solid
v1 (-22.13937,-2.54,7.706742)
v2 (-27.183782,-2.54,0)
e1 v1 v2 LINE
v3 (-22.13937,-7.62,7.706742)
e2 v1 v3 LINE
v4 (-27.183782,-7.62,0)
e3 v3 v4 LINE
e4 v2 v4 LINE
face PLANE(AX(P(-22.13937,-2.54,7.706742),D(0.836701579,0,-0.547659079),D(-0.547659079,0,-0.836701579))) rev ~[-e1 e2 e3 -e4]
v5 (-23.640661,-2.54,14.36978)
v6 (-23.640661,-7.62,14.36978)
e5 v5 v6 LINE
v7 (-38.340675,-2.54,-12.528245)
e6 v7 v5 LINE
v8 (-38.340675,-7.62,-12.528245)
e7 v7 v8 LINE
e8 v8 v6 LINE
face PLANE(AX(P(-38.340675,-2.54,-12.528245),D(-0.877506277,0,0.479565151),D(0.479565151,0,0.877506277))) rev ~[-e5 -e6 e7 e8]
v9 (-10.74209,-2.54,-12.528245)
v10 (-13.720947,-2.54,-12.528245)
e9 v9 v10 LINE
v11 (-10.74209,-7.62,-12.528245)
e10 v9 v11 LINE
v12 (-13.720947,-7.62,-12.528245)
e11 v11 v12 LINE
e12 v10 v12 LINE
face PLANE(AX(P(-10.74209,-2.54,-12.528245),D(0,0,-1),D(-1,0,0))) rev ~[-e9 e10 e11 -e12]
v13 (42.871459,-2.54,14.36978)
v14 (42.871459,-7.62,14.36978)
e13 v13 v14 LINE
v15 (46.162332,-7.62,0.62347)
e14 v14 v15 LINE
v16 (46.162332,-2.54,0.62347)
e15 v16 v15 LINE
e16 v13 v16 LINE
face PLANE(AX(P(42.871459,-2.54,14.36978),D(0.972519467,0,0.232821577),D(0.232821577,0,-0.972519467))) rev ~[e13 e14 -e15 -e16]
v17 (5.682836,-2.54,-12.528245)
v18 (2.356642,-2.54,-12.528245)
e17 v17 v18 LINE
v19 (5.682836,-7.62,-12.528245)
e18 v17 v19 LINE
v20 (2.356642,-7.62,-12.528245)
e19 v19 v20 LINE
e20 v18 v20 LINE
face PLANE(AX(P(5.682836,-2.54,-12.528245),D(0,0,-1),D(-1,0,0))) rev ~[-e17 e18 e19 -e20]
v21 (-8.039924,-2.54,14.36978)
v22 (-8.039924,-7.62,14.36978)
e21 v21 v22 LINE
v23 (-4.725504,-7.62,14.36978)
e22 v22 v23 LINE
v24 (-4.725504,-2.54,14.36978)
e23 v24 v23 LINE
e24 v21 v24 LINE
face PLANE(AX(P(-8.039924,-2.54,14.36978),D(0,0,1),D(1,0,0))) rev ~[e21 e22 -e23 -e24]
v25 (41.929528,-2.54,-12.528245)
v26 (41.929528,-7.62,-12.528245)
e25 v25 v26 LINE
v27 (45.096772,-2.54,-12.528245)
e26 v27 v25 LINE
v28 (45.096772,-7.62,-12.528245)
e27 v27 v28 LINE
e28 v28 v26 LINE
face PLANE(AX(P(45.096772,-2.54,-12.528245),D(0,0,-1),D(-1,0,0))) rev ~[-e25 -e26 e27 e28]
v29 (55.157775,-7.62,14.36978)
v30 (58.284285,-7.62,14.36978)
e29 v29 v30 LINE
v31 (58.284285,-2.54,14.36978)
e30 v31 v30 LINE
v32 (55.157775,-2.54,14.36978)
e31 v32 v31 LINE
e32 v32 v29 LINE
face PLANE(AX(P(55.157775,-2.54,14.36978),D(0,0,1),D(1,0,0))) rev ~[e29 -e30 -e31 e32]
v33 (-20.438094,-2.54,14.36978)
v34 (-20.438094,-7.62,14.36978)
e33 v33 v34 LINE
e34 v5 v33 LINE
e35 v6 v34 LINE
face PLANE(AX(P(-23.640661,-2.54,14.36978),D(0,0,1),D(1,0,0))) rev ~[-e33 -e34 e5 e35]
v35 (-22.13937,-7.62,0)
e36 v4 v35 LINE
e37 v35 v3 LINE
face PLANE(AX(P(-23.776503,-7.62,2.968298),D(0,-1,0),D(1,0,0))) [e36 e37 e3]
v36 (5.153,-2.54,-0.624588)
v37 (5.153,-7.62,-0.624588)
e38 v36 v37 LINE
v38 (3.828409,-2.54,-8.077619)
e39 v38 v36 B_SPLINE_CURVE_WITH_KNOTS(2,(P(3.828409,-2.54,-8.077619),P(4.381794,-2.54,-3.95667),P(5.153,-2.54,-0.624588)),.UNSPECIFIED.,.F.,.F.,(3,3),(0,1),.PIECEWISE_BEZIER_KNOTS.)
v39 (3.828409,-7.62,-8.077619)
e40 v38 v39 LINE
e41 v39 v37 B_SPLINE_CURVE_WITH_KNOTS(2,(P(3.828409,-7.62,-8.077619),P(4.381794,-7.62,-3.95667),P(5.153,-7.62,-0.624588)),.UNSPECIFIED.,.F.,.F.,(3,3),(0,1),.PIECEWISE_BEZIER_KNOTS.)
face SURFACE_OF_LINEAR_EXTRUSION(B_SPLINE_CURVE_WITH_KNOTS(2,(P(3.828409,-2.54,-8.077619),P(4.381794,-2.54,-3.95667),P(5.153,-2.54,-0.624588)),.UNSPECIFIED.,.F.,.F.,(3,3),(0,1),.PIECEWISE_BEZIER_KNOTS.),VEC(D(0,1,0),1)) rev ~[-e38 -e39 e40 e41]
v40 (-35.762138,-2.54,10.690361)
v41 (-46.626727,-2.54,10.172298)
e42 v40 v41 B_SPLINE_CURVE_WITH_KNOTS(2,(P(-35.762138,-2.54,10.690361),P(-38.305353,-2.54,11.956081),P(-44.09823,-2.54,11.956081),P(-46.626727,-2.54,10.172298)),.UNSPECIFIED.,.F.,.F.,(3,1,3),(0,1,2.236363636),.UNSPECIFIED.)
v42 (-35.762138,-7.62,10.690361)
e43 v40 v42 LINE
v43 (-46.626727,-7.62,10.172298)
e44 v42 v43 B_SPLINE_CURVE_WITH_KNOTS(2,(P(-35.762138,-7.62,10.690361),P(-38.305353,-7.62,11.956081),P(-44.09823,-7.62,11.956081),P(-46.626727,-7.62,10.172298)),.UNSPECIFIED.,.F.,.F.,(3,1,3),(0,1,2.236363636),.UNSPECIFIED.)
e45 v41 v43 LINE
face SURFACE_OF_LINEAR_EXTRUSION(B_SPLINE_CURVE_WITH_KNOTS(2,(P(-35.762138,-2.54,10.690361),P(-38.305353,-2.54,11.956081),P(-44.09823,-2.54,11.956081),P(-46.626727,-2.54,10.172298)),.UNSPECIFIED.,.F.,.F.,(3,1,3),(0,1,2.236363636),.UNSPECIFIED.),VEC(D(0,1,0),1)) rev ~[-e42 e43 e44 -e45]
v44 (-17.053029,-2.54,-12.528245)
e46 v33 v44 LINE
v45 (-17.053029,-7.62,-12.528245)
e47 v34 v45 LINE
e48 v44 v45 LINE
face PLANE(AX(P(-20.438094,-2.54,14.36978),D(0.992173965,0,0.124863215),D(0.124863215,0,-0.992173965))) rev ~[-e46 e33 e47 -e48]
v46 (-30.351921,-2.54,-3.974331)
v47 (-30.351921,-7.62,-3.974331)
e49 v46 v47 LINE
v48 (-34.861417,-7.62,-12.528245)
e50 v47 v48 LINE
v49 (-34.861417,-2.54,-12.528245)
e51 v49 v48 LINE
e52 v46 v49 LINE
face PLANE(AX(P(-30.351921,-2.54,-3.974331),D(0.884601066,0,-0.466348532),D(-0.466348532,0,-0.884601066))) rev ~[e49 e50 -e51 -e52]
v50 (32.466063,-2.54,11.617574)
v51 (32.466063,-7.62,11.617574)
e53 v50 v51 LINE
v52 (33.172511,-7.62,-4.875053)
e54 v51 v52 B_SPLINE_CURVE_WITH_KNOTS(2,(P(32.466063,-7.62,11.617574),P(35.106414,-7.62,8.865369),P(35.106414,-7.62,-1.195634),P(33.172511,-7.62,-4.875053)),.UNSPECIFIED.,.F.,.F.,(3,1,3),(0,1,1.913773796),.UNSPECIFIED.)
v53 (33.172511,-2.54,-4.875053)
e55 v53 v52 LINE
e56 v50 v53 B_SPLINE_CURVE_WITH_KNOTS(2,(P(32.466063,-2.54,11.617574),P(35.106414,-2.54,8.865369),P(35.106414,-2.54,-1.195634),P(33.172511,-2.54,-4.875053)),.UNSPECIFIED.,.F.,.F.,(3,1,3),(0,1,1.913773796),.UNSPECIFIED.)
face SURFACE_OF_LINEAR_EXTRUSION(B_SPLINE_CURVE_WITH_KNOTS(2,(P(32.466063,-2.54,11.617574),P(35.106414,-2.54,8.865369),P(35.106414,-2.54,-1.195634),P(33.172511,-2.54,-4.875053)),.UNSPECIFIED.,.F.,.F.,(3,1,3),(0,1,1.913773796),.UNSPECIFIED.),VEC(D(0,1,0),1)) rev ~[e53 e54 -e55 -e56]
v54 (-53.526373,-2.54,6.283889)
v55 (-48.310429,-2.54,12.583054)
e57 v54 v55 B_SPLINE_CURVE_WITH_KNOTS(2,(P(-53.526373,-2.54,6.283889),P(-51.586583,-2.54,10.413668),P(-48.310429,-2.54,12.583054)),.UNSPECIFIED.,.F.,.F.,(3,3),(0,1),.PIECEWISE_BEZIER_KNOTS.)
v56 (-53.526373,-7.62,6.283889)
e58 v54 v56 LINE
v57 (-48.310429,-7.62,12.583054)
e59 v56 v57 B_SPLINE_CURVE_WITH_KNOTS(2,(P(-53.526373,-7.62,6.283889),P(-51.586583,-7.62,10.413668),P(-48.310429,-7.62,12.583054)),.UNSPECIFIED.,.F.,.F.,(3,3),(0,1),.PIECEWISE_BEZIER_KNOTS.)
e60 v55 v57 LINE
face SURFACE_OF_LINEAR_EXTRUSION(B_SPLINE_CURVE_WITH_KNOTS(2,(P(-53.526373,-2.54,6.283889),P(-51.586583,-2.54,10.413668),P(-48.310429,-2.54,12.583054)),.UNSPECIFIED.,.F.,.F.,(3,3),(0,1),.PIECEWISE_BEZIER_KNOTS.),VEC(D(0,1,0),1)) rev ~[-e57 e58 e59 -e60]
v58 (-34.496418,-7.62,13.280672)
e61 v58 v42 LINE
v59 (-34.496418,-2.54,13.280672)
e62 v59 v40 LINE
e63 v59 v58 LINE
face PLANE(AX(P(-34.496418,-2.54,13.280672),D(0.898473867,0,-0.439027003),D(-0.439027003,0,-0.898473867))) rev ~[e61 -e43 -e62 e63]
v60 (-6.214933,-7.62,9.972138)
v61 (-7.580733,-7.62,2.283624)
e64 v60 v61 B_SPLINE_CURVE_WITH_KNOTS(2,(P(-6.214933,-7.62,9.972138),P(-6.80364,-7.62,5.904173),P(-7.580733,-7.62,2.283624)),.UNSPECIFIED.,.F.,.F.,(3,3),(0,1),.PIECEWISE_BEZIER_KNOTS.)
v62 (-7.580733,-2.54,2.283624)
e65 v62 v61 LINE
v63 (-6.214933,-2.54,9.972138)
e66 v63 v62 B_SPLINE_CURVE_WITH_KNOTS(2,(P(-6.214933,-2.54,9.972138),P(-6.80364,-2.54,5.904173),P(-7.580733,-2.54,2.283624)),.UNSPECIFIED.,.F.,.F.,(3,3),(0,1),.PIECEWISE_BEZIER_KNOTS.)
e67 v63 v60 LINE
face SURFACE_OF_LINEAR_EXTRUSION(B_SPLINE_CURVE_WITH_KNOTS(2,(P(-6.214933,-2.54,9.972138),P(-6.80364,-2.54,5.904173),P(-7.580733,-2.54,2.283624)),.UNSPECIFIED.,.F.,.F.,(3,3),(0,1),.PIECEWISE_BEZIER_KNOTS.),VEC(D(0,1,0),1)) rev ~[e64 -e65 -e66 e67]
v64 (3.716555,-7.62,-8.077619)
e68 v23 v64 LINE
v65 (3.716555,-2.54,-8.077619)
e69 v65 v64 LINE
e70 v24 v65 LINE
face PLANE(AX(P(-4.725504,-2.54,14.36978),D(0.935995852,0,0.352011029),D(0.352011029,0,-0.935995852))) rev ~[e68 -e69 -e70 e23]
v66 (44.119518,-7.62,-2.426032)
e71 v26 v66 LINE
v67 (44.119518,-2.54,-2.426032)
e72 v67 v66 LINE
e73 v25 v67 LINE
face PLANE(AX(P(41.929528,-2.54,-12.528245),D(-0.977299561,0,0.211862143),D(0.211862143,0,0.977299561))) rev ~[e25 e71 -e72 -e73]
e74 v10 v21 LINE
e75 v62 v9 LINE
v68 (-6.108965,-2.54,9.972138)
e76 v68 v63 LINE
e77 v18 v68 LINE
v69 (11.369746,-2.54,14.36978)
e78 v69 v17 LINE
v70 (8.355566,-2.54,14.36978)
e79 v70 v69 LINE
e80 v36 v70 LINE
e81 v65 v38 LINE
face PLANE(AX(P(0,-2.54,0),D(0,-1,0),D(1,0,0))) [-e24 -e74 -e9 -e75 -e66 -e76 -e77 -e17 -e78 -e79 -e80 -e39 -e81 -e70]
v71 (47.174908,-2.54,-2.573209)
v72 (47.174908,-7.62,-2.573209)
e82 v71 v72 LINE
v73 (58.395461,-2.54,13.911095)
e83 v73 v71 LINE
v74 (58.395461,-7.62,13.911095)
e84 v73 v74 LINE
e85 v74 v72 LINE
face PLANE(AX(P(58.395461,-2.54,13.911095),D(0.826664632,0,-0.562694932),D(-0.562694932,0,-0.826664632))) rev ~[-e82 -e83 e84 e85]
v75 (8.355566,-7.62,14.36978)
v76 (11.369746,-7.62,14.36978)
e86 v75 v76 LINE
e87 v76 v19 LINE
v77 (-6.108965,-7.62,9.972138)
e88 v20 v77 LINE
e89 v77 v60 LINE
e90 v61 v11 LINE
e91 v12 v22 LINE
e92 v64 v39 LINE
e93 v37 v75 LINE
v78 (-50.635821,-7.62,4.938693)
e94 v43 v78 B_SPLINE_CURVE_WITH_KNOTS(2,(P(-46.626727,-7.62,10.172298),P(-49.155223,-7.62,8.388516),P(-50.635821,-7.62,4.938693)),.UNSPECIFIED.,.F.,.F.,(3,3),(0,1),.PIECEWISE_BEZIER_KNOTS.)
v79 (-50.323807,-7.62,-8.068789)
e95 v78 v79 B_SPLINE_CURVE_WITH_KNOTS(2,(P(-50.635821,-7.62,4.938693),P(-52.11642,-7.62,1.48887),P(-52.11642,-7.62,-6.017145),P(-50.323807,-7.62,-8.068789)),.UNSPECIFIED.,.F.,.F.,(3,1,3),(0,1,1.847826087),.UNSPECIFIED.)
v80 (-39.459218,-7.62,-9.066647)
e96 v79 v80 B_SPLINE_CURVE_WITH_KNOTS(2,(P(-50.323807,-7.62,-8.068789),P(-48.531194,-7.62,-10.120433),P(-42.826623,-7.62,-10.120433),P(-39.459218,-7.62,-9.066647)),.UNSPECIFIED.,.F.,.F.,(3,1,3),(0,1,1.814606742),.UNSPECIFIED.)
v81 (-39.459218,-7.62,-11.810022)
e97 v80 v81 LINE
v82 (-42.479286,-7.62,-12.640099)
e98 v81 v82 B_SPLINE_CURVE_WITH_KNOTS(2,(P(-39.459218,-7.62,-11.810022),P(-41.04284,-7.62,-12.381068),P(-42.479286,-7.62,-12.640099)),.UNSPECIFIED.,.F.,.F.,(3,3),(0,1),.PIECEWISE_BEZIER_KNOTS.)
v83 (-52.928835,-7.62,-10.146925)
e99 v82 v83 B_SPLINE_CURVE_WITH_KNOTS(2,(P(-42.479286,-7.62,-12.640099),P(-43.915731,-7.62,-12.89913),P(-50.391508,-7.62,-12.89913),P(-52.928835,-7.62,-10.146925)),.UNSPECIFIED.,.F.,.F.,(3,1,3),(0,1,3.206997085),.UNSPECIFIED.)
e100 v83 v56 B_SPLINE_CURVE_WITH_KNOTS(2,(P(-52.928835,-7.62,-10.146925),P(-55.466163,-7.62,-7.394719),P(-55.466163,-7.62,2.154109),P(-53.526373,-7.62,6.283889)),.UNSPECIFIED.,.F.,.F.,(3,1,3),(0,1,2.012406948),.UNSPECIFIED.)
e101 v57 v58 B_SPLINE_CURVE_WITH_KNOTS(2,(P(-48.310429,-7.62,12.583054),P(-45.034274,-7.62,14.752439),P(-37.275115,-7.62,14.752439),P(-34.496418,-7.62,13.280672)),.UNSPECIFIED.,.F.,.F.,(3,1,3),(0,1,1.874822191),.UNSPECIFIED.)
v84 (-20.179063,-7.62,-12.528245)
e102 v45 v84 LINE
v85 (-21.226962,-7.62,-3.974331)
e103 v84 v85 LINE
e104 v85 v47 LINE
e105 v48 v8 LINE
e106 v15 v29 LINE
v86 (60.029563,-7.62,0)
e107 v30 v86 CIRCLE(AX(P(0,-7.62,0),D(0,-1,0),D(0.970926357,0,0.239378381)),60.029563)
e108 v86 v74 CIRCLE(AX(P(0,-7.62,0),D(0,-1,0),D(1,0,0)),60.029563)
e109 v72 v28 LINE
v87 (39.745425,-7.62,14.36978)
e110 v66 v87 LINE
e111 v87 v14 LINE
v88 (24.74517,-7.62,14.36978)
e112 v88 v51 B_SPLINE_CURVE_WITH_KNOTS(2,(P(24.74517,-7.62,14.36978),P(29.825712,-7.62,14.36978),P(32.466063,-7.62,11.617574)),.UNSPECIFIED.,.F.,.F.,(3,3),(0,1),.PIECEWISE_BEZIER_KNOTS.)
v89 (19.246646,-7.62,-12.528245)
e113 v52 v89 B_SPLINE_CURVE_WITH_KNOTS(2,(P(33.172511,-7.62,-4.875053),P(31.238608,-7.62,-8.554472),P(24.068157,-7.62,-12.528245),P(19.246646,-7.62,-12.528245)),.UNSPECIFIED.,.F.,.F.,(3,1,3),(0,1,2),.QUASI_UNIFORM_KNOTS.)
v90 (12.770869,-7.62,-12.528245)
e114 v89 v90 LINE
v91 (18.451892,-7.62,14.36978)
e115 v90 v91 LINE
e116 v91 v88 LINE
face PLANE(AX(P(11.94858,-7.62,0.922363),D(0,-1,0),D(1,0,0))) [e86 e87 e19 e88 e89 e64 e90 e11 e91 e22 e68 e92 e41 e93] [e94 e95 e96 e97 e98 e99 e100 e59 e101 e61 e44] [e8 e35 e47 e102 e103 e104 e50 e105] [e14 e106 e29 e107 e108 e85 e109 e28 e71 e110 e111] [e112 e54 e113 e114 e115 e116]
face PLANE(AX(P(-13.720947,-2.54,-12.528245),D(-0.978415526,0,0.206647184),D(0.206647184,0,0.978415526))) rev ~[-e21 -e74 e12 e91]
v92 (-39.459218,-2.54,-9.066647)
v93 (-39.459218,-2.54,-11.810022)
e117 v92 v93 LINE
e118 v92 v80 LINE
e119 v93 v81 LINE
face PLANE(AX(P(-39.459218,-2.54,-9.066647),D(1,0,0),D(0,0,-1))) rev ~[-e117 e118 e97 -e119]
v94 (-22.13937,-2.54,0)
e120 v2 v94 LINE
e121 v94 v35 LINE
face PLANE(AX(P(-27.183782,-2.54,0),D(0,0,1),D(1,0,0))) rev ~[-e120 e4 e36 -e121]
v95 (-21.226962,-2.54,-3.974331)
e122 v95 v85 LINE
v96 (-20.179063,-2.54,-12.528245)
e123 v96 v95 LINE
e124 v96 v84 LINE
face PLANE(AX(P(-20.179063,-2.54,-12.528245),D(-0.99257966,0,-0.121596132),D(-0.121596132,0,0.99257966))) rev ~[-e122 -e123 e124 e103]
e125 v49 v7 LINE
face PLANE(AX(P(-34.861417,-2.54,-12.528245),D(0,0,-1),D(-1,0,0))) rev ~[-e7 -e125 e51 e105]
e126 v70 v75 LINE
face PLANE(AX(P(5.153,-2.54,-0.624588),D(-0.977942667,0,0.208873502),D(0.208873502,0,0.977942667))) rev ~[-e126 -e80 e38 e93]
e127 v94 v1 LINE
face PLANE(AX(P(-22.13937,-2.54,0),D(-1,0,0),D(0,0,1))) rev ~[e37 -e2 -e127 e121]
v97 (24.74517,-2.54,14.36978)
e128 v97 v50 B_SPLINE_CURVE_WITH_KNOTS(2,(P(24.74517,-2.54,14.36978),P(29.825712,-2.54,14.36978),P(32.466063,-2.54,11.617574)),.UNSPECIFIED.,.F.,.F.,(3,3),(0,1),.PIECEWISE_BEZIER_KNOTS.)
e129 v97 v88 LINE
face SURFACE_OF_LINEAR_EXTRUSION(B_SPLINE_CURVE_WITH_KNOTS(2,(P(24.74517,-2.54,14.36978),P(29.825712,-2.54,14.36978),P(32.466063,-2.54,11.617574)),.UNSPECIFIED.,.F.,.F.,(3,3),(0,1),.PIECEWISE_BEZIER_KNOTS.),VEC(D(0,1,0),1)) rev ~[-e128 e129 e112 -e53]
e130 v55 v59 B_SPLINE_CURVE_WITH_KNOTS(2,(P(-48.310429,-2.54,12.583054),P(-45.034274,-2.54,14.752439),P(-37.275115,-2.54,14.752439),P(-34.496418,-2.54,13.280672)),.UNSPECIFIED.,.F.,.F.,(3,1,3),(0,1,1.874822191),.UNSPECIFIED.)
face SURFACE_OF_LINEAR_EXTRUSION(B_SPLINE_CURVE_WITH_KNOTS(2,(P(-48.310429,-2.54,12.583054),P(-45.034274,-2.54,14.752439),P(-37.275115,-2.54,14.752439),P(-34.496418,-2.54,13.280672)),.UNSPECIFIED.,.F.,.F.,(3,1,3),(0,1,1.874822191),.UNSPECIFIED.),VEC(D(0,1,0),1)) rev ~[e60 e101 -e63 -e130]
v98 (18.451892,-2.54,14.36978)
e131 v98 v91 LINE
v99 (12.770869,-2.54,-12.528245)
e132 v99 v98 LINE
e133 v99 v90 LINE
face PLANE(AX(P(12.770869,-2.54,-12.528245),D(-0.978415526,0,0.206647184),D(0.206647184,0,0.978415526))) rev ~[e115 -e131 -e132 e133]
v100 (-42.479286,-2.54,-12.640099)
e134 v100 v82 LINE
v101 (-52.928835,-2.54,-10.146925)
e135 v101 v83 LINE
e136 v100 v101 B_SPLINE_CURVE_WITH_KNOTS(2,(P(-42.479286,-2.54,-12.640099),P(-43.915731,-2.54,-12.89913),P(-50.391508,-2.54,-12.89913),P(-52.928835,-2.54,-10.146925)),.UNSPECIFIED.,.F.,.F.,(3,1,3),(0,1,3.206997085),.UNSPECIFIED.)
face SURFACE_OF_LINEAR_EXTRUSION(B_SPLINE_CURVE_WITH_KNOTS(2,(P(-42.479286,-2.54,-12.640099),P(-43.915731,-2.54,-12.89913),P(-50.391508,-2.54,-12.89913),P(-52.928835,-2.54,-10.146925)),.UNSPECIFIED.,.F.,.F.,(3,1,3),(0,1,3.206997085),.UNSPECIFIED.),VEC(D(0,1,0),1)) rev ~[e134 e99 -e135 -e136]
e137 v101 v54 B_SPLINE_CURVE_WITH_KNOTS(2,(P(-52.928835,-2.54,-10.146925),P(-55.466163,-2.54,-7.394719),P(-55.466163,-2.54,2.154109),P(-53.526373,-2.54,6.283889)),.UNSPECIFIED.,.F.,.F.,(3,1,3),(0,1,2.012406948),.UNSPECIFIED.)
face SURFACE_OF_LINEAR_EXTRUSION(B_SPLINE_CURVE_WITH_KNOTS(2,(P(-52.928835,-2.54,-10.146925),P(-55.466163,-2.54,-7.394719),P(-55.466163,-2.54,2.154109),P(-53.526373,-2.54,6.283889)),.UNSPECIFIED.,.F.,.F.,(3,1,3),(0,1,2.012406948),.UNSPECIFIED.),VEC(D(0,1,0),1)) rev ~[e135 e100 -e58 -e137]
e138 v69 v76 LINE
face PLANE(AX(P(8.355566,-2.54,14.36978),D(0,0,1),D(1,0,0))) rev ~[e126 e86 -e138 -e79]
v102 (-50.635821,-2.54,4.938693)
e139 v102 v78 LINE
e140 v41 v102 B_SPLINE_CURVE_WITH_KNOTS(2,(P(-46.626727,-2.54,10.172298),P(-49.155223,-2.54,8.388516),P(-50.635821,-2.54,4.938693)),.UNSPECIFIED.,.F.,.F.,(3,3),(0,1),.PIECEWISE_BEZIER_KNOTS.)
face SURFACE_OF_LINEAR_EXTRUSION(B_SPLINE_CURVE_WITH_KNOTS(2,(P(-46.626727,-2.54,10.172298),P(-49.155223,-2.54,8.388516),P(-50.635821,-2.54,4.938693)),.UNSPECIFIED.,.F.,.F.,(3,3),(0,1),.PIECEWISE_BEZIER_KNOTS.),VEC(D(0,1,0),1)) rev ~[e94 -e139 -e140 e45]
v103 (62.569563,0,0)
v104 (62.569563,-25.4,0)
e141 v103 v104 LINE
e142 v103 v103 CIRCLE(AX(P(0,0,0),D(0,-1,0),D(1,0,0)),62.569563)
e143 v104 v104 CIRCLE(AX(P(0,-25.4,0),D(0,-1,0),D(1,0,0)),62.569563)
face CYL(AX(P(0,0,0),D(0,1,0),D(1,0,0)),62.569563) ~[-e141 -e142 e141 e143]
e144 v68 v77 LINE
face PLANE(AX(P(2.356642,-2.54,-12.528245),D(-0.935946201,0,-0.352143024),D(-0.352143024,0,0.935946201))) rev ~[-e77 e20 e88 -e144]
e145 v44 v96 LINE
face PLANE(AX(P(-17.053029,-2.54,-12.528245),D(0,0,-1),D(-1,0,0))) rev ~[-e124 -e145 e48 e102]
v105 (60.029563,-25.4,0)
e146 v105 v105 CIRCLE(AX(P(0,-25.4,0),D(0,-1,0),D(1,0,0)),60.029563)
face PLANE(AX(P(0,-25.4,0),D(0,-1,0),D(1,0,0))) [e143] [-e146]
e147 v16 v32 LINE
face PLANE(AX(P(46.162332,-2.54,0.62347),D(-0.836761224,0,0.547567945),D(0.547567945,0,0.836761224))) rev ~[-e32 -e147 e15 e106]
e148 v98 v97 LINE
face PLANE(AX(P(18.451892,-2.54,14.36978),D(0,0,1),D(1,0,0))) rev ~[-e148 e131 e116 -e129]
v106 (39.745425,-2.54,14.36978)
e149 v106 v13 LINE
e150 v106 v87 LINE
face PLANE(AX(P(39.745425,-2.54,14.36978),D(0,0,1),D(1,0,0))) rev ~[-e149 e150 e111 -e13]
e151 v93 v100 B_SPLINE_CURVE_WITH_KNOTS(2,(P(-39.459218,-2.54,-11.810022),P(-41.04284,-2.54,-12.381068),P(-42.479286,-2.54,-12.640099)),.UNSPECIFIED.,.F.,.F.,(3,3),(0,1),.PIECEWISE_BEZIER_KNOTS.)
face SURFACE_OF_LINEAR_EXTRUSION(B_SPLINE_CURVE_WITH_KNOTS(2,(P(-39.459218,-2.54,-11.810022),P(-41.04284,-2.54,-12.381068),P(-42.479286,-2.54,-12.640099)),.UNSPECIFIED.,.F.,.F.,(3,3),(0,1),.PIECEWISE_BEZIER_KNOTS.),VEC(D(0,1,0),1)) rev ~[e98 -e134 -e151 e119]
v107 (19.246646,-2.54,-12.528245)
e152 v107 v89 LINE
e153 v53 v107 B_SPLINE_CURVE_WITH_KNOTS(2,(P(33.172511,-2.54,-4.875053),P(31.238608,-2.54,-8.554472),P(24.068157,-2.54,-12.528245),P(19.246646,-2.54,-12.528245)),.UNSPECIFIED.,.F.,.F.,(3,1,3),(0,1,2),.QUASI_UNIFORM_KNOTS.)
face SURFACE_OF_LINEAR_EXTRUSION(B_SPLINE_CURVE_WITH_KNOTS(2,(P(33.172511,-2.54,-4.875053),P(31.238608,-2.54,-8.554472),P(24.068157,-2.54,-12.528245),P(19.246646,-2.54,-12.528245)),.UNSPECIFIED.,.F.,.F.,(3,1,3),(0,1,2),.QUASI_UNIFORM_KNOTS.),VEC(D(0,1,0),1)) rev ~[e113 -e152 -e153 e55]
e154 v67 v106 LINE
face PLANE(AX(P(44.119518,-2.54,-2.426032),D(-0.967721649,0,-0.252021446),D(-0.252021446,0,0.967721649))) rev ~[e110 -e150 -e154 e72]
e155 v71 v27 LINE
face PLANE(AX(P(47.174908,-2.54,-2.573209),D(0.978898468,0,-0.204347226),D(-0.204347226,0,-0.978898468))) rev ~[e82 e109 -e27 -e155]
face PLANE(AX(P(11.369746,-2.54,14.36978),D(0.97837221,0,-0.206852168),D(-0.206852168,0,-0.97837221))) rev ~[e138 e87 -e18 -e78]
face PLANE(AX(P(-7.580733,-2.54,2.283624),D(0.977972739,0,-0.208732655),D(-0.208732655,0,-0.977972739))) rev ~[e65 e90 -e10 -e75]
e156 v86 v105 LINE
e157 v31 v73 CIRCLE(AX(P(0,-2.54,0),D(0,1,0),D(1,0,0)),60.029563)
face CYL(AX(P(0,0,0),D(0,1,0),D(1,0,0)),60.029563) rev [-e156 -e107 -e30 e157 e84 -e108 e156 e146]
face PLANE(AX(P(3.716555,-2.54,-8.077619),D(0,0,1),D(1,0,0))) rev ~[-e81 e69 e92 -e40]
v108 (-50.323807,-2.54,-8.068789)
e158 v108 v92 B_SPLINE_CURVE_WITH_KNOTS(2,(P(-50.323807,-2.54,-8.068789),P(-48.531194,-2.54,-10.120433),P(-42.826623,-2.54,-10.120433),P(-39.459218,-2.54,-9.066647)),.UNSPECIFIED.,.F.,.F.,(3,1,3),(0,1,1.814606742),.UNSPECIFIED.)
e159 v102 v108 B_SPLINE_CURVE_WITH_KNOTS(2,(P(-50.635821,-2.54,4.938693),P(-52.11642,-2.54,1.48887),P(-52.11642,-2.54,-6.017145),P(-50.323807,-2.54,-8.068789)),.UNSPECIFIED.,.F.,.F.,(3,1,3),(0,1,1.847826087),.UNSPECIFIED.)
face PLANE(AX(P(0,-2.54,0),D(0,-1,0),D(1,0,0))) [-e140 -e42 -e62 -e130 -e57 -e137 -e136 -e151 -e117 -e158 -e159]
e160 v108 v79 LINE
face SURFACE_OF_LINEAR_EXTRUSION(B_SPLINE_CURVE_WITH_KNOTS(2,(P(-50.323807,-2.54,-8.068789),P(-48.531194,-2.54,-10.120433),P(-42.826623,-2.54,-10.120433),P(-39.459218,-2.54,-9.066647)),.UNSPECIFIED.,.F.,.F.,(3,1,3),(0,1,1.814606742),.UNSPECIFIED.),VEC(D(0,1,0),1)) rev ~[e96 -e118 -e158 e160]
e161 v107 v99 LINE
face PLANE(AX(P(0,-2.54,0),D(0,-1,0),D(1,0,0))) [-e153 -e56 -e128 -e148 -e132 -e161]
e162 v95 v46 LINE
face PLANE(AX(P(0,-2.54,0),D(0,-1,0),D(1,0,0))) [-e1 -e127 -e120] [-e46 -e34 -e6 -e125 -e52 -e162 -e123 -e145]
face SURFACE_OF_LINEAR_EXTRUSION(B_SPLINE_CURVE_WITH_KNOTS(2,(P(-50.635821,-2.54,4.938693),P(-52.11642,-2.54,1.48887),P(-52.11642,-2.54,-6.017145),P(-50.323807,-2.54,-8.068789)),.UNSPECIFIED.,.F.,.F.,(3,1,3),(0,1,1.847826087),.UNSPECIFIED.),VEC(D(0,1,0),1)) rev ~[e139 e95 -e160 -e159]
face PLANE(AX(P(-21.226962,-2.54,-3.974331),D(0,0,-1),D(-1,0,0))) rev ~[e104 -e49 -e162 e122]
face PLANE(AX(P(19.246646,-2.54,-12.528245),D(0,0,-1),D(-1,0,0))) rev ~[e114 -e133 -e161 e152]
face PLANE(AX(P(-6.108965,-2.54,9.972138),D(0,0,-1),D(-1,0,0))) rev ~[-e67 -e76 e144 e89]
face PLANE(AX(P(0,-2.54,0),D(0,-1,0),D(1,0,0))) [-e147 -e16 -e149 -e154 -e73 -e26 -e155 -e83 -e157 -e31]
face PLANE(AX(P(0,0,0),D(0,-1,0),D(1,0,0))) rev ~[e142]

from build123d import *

# Parameters (mm, degrees)
F0_R     = 62.5695627455
F1_DEPTH = 25.4
F2_T     = -2.54
F4_DEPTH = 5.08
F6_DEPTH = 5.08


with BuildPart() as f1:
    # F0 (on Front) → F1 (new body)
    with BuildSketch(Plane.XZ):
        Circle(F0_R)
    extrude(amount=F1_DEPTH)

    # F2
    f2_openings = [f1.faces().sort_by_distance(p)[0] for p in [
        (0, -25.4, 0),
    ]]
    offset(amount=F2_T, openings=f2_openings)

    # F3 (on face) → F4 (join)
    with BuildSketch(Plane.XZ.offset(2.54)):
        with BuildLine():
            Line((42.8714592834, 14.3697795653), (46.1623315652, 0.6234704811))
            Line((46.1623315652, 0.6234704811), (55.1577749403, 14.3697795653))
            Line((55.1577749403, 14.3697795653), (58.2842846629, 14.3697795653))
            ThreePointArc((58.2842846629, 14.3697795653), (-59.591645919, -7.2376888635), (60.0295627455, 0))
            ThreePointArc((60.0295627455, 0), (59.6196375987, 7.0033717604), (58.3954606874, 13.9110953747))
            Line((58.3954606874, 13.9110953747), (47.174907652, -2.5732086764))
            Line((47.174907652, -2.5732086764), (45.0967718461, -12.5282445057))
            Line((45.0967718461, -12.5282445057), (41.92952804, -12.5282445057))
            Line((41.92952804, -12.5282445057), (44.119518181, -2.4260319196))
            Line((44.119518181, -2.4260319196), (39.7454249692, 14.3697795653))
            Line((39.7454249692, 14.3697795653), (42.8714592834, 14.3697795653))
        make_face()
        with BuildLine():
            add(Edge.make_bspline(
                [(-35.7621383344, 10.6903606455), (-38.3053526918, 11.9560807539), (-40.8956636113, 11.9560807539)],
                knots=[0, 0, 0, 1, 1, 1], degree=2))
            add(Edge.make_bspline(
                [(-40.8956636113, 11.9560807539), (-44.098229839, 11.9560807539), (-46.6267265207, 10.1722984616)],
                knots=[0, 0, 0, 1, 1, 1], degree=2))
            add(Edge.make_bspline(
                [(-46.6267265207, 10.1722984616), (-49.1552232023, 8.3885161693), (-50.6358213756, 4.9386929902)],
                knots=[0, 0, 0, 1, 1, 1], degree=2))
            add(Edge.make_bspline(
                [(-50.6358213756, 4.9386929902), (-52.116419549, 1.488869811), (-52.116419549, -2.5732086764)],
                knots=[0, 0, 0, 1, 1, 1], degree=2))
            add(Edge.make_bspline(
                [(-52.116419549, -2.5732086764), (-52.116419549, -6.0171447853), (-50.3238066513, -8.0687887749)],
                knots=[0, 0, 0, 1, 1, 1], degree=2))
            add(Edge.make_bspline(
                [(-50.3238066513, -8.0687887749), (-48.5311937535, -10.1204327646), (-45.3874982285, -10.1204327646)],
                knots=[0, 0, 0, 1, 1, 1], degree=2))
            add(Edge.make_bspline(
                [(-45.3874982285, -10.1204327646), (-42.8266226604, -10.1204327646), (-39.459218465, -9.066647186)],
                knots=[0, 0, 0, 1, 1, 1], degree=2))
            Line((-39.459218465, -9.066647186), (-39.459218465, -11.8100219325))
            add(Edge.make_bspline(
                [(-39.459218465, -11.8100219325), (-41.0428403681, -12.3810677489), (-42.4792855143, -12.6400988408)],
                knots=[0, 0, 0, 1, 1, 1], degree=2))
            add(Edge.make_bspline(
                [(-42.4792855143, -12.6400988408), (-43.9157306606, -12.8991299328), (-45.9349957638, -12.8991299328)],
                knots=[0, 0, 0, 1, 1, 1], degree=2))
            add(Edge.make_bspline(
                [(-45.9349957638, -12.8991299328), (-50.3915079594, -12.8991299328), (-52.9288352464, -10.1469245808)],
                knots=[0, 0, 0, 1, 1, 1], degree=2))
            add(Edge.make_bspline(
                [(-52.9288352464, -10.1469245808), (-55.4661625335, -7.3947192288), (-55.4661625335, -2.6497405899)],
                knots=[0, 0, 0, 1, 1, 1], degree=2))
            add(Edge.make_bspline(
                [(-55.4661625335, -2.6497405899), (-55.4661625335, 2.1541087517), (-53.526372879, 6.2838885472)],
                knots=[0, 0, 0, 1, 1, 1], degree=2))
            add(Edge.make_bspline(
                [(-53.526372879, 6.2838885472), (-51.5865832245, 10.4136683428), (-48.3104286184, 12.5830537379)],
                knots=[0, 0, 0, 1, 1, 1], degree=2))
            add(Edge.make_bspline(
                [(-48.3104286184, 12.5830537379), (-45.0342740122, 14.7524391329), (-40.8956636113, 14.7524391329)],
                knots=[0, 0, 0, 1, 1, 1], degree=2))
            add(Edge.make_bspline(
                [(-40.8956636113, 14.7524391329), (-37.2751153942, 14.7524391329), (-34.496418226, 13.280671565)],
                knots=[0, 0, 0, 1, 1, 1], degree=2))
            Line((-34.496418226, 13.280671565), (-35.7621383344, 10.6903606455))
        make_face(mode=Mode.SUBTRACT)
        Polygon((-20.1790633255, -12.5282445057), (-21.2269618338, -3.974331401), (-30.3519207548, -3.974331401), (-34.8614165829, -12.5282445057), (-38.3406751134, -12.5282445057), (-23.6406606452, 14.3697795653), (-20.4380944174, 14.3697795653), (-17.0530290113, -12.5282445057), align=None, mode=Mode.SUBTRACT)
        with BuildLine():
            Line((11.3697462601, 14.3697795653), (5.6828363777, -12.5282445057))
            Line((5.6828363777, -12.5282445057), (2.3566416742, -12.5282445057))
            Line((2.3566416742, -12.5282445057), (-6.1089653764, 9.9721380724))
            Line((-6.1089653764, 9.9721380724), (-6.2149326412, 9.9721380724))
            add(Edge.make_bspline(
                [(-6.2149326412, 9.9721380724), (-6.8036396684, 5.9041725147), (-7.5807329443, 2.2836242977)],
                knots=[0, 0, 0, 1, 1, 1], degree=2))
            Line((-7.5807329443, 2.2836242977), (-10.7420896801, -12.5282445057))
            Line((-10.7420896801, -12.5282445057), (-13.7209472375, -12.5282445057))
            Line((-13.7209472375, -12.5282445057), (-8.0399244254, 14.3697795653))
            Line((-8.0399244254, 14.3697795653), (-4.7255038625, 14.3697795653))
            Line((-4.7255038625, 14.3697795653), (3.716554907, -8.0776193803))
            Line((3.716554907, -8.0776193803), (3.8284092421, -8.0776193803))
            add(Edge.make_bspline(
                [(3.8284092421, -8.0776193803), (4.3817938477, -3.9566701902), (5.1530000532, -0.6245884165)],
                knots=[0, 0, 0, 1, 1, 1], degree=2))
            Line((5.1530000532, -0.6245884165), (8.355566281, 14.3697795653))
            Line((8.355566281, 14.3697795653), (11.3697462601, 14.3697795653))
        make_face(mode=Mode.SUBTRACT)
        with BuildLine():
            add(Edge.make_bspline(
                [(32.4660625784, 11.6175742133), (35.1064135952, 8.8653688613), (35.1064135952, 3.6082151088)],
                knots=[0, 0, 0, 1, 1, 1], degree=2))
            add(Edge.make_bspline(
                [(35.1064135952, 3.6082151088), (35.1064135952, -1.1956342328), (33.1725110109, -4.8750531526)],
                knots=[0, 0, 0, 1, 1, 1], degree=2))
            add(Edge.make_bspline(
                [(33.1725110109, -4.8750531526), (31.2386084267, -8.5544720723), (27.6533826313, -10.541358289)],
                knots=[0, 0, 0, 1, 1, 1], degree=2))
            add(Edge.make_bspline(
                [(27.6533826313, -10.541358289), (24.0681568359, -12.5282445057), (19.2466462835, -12.5282445057)],
                knots=[0, 0, 0, 1, 1, 1], degree=2))
            Line((19.2466462835, -12.5282445057), (12.7708689847, -12.5282445057))
            Line((12.7708689847, -12.5282445057), (18.4518917968, 14.3697795653))
            Line((18.4518917968, 14.3697795653), (24.7451699171, 14.3697795653))
            add(Edge.make_bspline(
                [(24.7451699171, 14.3697795653), (29.8257115615, 14.3697795653), (32.4660625784, 11.6175742133)],
                knots=[0, 0, 0, 1, 1, 1], degree=2))
        make_face(mode=Mode.SUBTRACT)
    extrude(amount=F4_DEPTH)

    # F5 (on face) → F6 (join)
    with BuildSketch(Plane.XZ.offset(2.54)):
        Polygon((-22.1393704414, 7.7067422681), (-27.1837823093, 0), (-22.1393704414, 0), align=None)
    extrude(amount=F6_DEPTH)


solid = f1.part
